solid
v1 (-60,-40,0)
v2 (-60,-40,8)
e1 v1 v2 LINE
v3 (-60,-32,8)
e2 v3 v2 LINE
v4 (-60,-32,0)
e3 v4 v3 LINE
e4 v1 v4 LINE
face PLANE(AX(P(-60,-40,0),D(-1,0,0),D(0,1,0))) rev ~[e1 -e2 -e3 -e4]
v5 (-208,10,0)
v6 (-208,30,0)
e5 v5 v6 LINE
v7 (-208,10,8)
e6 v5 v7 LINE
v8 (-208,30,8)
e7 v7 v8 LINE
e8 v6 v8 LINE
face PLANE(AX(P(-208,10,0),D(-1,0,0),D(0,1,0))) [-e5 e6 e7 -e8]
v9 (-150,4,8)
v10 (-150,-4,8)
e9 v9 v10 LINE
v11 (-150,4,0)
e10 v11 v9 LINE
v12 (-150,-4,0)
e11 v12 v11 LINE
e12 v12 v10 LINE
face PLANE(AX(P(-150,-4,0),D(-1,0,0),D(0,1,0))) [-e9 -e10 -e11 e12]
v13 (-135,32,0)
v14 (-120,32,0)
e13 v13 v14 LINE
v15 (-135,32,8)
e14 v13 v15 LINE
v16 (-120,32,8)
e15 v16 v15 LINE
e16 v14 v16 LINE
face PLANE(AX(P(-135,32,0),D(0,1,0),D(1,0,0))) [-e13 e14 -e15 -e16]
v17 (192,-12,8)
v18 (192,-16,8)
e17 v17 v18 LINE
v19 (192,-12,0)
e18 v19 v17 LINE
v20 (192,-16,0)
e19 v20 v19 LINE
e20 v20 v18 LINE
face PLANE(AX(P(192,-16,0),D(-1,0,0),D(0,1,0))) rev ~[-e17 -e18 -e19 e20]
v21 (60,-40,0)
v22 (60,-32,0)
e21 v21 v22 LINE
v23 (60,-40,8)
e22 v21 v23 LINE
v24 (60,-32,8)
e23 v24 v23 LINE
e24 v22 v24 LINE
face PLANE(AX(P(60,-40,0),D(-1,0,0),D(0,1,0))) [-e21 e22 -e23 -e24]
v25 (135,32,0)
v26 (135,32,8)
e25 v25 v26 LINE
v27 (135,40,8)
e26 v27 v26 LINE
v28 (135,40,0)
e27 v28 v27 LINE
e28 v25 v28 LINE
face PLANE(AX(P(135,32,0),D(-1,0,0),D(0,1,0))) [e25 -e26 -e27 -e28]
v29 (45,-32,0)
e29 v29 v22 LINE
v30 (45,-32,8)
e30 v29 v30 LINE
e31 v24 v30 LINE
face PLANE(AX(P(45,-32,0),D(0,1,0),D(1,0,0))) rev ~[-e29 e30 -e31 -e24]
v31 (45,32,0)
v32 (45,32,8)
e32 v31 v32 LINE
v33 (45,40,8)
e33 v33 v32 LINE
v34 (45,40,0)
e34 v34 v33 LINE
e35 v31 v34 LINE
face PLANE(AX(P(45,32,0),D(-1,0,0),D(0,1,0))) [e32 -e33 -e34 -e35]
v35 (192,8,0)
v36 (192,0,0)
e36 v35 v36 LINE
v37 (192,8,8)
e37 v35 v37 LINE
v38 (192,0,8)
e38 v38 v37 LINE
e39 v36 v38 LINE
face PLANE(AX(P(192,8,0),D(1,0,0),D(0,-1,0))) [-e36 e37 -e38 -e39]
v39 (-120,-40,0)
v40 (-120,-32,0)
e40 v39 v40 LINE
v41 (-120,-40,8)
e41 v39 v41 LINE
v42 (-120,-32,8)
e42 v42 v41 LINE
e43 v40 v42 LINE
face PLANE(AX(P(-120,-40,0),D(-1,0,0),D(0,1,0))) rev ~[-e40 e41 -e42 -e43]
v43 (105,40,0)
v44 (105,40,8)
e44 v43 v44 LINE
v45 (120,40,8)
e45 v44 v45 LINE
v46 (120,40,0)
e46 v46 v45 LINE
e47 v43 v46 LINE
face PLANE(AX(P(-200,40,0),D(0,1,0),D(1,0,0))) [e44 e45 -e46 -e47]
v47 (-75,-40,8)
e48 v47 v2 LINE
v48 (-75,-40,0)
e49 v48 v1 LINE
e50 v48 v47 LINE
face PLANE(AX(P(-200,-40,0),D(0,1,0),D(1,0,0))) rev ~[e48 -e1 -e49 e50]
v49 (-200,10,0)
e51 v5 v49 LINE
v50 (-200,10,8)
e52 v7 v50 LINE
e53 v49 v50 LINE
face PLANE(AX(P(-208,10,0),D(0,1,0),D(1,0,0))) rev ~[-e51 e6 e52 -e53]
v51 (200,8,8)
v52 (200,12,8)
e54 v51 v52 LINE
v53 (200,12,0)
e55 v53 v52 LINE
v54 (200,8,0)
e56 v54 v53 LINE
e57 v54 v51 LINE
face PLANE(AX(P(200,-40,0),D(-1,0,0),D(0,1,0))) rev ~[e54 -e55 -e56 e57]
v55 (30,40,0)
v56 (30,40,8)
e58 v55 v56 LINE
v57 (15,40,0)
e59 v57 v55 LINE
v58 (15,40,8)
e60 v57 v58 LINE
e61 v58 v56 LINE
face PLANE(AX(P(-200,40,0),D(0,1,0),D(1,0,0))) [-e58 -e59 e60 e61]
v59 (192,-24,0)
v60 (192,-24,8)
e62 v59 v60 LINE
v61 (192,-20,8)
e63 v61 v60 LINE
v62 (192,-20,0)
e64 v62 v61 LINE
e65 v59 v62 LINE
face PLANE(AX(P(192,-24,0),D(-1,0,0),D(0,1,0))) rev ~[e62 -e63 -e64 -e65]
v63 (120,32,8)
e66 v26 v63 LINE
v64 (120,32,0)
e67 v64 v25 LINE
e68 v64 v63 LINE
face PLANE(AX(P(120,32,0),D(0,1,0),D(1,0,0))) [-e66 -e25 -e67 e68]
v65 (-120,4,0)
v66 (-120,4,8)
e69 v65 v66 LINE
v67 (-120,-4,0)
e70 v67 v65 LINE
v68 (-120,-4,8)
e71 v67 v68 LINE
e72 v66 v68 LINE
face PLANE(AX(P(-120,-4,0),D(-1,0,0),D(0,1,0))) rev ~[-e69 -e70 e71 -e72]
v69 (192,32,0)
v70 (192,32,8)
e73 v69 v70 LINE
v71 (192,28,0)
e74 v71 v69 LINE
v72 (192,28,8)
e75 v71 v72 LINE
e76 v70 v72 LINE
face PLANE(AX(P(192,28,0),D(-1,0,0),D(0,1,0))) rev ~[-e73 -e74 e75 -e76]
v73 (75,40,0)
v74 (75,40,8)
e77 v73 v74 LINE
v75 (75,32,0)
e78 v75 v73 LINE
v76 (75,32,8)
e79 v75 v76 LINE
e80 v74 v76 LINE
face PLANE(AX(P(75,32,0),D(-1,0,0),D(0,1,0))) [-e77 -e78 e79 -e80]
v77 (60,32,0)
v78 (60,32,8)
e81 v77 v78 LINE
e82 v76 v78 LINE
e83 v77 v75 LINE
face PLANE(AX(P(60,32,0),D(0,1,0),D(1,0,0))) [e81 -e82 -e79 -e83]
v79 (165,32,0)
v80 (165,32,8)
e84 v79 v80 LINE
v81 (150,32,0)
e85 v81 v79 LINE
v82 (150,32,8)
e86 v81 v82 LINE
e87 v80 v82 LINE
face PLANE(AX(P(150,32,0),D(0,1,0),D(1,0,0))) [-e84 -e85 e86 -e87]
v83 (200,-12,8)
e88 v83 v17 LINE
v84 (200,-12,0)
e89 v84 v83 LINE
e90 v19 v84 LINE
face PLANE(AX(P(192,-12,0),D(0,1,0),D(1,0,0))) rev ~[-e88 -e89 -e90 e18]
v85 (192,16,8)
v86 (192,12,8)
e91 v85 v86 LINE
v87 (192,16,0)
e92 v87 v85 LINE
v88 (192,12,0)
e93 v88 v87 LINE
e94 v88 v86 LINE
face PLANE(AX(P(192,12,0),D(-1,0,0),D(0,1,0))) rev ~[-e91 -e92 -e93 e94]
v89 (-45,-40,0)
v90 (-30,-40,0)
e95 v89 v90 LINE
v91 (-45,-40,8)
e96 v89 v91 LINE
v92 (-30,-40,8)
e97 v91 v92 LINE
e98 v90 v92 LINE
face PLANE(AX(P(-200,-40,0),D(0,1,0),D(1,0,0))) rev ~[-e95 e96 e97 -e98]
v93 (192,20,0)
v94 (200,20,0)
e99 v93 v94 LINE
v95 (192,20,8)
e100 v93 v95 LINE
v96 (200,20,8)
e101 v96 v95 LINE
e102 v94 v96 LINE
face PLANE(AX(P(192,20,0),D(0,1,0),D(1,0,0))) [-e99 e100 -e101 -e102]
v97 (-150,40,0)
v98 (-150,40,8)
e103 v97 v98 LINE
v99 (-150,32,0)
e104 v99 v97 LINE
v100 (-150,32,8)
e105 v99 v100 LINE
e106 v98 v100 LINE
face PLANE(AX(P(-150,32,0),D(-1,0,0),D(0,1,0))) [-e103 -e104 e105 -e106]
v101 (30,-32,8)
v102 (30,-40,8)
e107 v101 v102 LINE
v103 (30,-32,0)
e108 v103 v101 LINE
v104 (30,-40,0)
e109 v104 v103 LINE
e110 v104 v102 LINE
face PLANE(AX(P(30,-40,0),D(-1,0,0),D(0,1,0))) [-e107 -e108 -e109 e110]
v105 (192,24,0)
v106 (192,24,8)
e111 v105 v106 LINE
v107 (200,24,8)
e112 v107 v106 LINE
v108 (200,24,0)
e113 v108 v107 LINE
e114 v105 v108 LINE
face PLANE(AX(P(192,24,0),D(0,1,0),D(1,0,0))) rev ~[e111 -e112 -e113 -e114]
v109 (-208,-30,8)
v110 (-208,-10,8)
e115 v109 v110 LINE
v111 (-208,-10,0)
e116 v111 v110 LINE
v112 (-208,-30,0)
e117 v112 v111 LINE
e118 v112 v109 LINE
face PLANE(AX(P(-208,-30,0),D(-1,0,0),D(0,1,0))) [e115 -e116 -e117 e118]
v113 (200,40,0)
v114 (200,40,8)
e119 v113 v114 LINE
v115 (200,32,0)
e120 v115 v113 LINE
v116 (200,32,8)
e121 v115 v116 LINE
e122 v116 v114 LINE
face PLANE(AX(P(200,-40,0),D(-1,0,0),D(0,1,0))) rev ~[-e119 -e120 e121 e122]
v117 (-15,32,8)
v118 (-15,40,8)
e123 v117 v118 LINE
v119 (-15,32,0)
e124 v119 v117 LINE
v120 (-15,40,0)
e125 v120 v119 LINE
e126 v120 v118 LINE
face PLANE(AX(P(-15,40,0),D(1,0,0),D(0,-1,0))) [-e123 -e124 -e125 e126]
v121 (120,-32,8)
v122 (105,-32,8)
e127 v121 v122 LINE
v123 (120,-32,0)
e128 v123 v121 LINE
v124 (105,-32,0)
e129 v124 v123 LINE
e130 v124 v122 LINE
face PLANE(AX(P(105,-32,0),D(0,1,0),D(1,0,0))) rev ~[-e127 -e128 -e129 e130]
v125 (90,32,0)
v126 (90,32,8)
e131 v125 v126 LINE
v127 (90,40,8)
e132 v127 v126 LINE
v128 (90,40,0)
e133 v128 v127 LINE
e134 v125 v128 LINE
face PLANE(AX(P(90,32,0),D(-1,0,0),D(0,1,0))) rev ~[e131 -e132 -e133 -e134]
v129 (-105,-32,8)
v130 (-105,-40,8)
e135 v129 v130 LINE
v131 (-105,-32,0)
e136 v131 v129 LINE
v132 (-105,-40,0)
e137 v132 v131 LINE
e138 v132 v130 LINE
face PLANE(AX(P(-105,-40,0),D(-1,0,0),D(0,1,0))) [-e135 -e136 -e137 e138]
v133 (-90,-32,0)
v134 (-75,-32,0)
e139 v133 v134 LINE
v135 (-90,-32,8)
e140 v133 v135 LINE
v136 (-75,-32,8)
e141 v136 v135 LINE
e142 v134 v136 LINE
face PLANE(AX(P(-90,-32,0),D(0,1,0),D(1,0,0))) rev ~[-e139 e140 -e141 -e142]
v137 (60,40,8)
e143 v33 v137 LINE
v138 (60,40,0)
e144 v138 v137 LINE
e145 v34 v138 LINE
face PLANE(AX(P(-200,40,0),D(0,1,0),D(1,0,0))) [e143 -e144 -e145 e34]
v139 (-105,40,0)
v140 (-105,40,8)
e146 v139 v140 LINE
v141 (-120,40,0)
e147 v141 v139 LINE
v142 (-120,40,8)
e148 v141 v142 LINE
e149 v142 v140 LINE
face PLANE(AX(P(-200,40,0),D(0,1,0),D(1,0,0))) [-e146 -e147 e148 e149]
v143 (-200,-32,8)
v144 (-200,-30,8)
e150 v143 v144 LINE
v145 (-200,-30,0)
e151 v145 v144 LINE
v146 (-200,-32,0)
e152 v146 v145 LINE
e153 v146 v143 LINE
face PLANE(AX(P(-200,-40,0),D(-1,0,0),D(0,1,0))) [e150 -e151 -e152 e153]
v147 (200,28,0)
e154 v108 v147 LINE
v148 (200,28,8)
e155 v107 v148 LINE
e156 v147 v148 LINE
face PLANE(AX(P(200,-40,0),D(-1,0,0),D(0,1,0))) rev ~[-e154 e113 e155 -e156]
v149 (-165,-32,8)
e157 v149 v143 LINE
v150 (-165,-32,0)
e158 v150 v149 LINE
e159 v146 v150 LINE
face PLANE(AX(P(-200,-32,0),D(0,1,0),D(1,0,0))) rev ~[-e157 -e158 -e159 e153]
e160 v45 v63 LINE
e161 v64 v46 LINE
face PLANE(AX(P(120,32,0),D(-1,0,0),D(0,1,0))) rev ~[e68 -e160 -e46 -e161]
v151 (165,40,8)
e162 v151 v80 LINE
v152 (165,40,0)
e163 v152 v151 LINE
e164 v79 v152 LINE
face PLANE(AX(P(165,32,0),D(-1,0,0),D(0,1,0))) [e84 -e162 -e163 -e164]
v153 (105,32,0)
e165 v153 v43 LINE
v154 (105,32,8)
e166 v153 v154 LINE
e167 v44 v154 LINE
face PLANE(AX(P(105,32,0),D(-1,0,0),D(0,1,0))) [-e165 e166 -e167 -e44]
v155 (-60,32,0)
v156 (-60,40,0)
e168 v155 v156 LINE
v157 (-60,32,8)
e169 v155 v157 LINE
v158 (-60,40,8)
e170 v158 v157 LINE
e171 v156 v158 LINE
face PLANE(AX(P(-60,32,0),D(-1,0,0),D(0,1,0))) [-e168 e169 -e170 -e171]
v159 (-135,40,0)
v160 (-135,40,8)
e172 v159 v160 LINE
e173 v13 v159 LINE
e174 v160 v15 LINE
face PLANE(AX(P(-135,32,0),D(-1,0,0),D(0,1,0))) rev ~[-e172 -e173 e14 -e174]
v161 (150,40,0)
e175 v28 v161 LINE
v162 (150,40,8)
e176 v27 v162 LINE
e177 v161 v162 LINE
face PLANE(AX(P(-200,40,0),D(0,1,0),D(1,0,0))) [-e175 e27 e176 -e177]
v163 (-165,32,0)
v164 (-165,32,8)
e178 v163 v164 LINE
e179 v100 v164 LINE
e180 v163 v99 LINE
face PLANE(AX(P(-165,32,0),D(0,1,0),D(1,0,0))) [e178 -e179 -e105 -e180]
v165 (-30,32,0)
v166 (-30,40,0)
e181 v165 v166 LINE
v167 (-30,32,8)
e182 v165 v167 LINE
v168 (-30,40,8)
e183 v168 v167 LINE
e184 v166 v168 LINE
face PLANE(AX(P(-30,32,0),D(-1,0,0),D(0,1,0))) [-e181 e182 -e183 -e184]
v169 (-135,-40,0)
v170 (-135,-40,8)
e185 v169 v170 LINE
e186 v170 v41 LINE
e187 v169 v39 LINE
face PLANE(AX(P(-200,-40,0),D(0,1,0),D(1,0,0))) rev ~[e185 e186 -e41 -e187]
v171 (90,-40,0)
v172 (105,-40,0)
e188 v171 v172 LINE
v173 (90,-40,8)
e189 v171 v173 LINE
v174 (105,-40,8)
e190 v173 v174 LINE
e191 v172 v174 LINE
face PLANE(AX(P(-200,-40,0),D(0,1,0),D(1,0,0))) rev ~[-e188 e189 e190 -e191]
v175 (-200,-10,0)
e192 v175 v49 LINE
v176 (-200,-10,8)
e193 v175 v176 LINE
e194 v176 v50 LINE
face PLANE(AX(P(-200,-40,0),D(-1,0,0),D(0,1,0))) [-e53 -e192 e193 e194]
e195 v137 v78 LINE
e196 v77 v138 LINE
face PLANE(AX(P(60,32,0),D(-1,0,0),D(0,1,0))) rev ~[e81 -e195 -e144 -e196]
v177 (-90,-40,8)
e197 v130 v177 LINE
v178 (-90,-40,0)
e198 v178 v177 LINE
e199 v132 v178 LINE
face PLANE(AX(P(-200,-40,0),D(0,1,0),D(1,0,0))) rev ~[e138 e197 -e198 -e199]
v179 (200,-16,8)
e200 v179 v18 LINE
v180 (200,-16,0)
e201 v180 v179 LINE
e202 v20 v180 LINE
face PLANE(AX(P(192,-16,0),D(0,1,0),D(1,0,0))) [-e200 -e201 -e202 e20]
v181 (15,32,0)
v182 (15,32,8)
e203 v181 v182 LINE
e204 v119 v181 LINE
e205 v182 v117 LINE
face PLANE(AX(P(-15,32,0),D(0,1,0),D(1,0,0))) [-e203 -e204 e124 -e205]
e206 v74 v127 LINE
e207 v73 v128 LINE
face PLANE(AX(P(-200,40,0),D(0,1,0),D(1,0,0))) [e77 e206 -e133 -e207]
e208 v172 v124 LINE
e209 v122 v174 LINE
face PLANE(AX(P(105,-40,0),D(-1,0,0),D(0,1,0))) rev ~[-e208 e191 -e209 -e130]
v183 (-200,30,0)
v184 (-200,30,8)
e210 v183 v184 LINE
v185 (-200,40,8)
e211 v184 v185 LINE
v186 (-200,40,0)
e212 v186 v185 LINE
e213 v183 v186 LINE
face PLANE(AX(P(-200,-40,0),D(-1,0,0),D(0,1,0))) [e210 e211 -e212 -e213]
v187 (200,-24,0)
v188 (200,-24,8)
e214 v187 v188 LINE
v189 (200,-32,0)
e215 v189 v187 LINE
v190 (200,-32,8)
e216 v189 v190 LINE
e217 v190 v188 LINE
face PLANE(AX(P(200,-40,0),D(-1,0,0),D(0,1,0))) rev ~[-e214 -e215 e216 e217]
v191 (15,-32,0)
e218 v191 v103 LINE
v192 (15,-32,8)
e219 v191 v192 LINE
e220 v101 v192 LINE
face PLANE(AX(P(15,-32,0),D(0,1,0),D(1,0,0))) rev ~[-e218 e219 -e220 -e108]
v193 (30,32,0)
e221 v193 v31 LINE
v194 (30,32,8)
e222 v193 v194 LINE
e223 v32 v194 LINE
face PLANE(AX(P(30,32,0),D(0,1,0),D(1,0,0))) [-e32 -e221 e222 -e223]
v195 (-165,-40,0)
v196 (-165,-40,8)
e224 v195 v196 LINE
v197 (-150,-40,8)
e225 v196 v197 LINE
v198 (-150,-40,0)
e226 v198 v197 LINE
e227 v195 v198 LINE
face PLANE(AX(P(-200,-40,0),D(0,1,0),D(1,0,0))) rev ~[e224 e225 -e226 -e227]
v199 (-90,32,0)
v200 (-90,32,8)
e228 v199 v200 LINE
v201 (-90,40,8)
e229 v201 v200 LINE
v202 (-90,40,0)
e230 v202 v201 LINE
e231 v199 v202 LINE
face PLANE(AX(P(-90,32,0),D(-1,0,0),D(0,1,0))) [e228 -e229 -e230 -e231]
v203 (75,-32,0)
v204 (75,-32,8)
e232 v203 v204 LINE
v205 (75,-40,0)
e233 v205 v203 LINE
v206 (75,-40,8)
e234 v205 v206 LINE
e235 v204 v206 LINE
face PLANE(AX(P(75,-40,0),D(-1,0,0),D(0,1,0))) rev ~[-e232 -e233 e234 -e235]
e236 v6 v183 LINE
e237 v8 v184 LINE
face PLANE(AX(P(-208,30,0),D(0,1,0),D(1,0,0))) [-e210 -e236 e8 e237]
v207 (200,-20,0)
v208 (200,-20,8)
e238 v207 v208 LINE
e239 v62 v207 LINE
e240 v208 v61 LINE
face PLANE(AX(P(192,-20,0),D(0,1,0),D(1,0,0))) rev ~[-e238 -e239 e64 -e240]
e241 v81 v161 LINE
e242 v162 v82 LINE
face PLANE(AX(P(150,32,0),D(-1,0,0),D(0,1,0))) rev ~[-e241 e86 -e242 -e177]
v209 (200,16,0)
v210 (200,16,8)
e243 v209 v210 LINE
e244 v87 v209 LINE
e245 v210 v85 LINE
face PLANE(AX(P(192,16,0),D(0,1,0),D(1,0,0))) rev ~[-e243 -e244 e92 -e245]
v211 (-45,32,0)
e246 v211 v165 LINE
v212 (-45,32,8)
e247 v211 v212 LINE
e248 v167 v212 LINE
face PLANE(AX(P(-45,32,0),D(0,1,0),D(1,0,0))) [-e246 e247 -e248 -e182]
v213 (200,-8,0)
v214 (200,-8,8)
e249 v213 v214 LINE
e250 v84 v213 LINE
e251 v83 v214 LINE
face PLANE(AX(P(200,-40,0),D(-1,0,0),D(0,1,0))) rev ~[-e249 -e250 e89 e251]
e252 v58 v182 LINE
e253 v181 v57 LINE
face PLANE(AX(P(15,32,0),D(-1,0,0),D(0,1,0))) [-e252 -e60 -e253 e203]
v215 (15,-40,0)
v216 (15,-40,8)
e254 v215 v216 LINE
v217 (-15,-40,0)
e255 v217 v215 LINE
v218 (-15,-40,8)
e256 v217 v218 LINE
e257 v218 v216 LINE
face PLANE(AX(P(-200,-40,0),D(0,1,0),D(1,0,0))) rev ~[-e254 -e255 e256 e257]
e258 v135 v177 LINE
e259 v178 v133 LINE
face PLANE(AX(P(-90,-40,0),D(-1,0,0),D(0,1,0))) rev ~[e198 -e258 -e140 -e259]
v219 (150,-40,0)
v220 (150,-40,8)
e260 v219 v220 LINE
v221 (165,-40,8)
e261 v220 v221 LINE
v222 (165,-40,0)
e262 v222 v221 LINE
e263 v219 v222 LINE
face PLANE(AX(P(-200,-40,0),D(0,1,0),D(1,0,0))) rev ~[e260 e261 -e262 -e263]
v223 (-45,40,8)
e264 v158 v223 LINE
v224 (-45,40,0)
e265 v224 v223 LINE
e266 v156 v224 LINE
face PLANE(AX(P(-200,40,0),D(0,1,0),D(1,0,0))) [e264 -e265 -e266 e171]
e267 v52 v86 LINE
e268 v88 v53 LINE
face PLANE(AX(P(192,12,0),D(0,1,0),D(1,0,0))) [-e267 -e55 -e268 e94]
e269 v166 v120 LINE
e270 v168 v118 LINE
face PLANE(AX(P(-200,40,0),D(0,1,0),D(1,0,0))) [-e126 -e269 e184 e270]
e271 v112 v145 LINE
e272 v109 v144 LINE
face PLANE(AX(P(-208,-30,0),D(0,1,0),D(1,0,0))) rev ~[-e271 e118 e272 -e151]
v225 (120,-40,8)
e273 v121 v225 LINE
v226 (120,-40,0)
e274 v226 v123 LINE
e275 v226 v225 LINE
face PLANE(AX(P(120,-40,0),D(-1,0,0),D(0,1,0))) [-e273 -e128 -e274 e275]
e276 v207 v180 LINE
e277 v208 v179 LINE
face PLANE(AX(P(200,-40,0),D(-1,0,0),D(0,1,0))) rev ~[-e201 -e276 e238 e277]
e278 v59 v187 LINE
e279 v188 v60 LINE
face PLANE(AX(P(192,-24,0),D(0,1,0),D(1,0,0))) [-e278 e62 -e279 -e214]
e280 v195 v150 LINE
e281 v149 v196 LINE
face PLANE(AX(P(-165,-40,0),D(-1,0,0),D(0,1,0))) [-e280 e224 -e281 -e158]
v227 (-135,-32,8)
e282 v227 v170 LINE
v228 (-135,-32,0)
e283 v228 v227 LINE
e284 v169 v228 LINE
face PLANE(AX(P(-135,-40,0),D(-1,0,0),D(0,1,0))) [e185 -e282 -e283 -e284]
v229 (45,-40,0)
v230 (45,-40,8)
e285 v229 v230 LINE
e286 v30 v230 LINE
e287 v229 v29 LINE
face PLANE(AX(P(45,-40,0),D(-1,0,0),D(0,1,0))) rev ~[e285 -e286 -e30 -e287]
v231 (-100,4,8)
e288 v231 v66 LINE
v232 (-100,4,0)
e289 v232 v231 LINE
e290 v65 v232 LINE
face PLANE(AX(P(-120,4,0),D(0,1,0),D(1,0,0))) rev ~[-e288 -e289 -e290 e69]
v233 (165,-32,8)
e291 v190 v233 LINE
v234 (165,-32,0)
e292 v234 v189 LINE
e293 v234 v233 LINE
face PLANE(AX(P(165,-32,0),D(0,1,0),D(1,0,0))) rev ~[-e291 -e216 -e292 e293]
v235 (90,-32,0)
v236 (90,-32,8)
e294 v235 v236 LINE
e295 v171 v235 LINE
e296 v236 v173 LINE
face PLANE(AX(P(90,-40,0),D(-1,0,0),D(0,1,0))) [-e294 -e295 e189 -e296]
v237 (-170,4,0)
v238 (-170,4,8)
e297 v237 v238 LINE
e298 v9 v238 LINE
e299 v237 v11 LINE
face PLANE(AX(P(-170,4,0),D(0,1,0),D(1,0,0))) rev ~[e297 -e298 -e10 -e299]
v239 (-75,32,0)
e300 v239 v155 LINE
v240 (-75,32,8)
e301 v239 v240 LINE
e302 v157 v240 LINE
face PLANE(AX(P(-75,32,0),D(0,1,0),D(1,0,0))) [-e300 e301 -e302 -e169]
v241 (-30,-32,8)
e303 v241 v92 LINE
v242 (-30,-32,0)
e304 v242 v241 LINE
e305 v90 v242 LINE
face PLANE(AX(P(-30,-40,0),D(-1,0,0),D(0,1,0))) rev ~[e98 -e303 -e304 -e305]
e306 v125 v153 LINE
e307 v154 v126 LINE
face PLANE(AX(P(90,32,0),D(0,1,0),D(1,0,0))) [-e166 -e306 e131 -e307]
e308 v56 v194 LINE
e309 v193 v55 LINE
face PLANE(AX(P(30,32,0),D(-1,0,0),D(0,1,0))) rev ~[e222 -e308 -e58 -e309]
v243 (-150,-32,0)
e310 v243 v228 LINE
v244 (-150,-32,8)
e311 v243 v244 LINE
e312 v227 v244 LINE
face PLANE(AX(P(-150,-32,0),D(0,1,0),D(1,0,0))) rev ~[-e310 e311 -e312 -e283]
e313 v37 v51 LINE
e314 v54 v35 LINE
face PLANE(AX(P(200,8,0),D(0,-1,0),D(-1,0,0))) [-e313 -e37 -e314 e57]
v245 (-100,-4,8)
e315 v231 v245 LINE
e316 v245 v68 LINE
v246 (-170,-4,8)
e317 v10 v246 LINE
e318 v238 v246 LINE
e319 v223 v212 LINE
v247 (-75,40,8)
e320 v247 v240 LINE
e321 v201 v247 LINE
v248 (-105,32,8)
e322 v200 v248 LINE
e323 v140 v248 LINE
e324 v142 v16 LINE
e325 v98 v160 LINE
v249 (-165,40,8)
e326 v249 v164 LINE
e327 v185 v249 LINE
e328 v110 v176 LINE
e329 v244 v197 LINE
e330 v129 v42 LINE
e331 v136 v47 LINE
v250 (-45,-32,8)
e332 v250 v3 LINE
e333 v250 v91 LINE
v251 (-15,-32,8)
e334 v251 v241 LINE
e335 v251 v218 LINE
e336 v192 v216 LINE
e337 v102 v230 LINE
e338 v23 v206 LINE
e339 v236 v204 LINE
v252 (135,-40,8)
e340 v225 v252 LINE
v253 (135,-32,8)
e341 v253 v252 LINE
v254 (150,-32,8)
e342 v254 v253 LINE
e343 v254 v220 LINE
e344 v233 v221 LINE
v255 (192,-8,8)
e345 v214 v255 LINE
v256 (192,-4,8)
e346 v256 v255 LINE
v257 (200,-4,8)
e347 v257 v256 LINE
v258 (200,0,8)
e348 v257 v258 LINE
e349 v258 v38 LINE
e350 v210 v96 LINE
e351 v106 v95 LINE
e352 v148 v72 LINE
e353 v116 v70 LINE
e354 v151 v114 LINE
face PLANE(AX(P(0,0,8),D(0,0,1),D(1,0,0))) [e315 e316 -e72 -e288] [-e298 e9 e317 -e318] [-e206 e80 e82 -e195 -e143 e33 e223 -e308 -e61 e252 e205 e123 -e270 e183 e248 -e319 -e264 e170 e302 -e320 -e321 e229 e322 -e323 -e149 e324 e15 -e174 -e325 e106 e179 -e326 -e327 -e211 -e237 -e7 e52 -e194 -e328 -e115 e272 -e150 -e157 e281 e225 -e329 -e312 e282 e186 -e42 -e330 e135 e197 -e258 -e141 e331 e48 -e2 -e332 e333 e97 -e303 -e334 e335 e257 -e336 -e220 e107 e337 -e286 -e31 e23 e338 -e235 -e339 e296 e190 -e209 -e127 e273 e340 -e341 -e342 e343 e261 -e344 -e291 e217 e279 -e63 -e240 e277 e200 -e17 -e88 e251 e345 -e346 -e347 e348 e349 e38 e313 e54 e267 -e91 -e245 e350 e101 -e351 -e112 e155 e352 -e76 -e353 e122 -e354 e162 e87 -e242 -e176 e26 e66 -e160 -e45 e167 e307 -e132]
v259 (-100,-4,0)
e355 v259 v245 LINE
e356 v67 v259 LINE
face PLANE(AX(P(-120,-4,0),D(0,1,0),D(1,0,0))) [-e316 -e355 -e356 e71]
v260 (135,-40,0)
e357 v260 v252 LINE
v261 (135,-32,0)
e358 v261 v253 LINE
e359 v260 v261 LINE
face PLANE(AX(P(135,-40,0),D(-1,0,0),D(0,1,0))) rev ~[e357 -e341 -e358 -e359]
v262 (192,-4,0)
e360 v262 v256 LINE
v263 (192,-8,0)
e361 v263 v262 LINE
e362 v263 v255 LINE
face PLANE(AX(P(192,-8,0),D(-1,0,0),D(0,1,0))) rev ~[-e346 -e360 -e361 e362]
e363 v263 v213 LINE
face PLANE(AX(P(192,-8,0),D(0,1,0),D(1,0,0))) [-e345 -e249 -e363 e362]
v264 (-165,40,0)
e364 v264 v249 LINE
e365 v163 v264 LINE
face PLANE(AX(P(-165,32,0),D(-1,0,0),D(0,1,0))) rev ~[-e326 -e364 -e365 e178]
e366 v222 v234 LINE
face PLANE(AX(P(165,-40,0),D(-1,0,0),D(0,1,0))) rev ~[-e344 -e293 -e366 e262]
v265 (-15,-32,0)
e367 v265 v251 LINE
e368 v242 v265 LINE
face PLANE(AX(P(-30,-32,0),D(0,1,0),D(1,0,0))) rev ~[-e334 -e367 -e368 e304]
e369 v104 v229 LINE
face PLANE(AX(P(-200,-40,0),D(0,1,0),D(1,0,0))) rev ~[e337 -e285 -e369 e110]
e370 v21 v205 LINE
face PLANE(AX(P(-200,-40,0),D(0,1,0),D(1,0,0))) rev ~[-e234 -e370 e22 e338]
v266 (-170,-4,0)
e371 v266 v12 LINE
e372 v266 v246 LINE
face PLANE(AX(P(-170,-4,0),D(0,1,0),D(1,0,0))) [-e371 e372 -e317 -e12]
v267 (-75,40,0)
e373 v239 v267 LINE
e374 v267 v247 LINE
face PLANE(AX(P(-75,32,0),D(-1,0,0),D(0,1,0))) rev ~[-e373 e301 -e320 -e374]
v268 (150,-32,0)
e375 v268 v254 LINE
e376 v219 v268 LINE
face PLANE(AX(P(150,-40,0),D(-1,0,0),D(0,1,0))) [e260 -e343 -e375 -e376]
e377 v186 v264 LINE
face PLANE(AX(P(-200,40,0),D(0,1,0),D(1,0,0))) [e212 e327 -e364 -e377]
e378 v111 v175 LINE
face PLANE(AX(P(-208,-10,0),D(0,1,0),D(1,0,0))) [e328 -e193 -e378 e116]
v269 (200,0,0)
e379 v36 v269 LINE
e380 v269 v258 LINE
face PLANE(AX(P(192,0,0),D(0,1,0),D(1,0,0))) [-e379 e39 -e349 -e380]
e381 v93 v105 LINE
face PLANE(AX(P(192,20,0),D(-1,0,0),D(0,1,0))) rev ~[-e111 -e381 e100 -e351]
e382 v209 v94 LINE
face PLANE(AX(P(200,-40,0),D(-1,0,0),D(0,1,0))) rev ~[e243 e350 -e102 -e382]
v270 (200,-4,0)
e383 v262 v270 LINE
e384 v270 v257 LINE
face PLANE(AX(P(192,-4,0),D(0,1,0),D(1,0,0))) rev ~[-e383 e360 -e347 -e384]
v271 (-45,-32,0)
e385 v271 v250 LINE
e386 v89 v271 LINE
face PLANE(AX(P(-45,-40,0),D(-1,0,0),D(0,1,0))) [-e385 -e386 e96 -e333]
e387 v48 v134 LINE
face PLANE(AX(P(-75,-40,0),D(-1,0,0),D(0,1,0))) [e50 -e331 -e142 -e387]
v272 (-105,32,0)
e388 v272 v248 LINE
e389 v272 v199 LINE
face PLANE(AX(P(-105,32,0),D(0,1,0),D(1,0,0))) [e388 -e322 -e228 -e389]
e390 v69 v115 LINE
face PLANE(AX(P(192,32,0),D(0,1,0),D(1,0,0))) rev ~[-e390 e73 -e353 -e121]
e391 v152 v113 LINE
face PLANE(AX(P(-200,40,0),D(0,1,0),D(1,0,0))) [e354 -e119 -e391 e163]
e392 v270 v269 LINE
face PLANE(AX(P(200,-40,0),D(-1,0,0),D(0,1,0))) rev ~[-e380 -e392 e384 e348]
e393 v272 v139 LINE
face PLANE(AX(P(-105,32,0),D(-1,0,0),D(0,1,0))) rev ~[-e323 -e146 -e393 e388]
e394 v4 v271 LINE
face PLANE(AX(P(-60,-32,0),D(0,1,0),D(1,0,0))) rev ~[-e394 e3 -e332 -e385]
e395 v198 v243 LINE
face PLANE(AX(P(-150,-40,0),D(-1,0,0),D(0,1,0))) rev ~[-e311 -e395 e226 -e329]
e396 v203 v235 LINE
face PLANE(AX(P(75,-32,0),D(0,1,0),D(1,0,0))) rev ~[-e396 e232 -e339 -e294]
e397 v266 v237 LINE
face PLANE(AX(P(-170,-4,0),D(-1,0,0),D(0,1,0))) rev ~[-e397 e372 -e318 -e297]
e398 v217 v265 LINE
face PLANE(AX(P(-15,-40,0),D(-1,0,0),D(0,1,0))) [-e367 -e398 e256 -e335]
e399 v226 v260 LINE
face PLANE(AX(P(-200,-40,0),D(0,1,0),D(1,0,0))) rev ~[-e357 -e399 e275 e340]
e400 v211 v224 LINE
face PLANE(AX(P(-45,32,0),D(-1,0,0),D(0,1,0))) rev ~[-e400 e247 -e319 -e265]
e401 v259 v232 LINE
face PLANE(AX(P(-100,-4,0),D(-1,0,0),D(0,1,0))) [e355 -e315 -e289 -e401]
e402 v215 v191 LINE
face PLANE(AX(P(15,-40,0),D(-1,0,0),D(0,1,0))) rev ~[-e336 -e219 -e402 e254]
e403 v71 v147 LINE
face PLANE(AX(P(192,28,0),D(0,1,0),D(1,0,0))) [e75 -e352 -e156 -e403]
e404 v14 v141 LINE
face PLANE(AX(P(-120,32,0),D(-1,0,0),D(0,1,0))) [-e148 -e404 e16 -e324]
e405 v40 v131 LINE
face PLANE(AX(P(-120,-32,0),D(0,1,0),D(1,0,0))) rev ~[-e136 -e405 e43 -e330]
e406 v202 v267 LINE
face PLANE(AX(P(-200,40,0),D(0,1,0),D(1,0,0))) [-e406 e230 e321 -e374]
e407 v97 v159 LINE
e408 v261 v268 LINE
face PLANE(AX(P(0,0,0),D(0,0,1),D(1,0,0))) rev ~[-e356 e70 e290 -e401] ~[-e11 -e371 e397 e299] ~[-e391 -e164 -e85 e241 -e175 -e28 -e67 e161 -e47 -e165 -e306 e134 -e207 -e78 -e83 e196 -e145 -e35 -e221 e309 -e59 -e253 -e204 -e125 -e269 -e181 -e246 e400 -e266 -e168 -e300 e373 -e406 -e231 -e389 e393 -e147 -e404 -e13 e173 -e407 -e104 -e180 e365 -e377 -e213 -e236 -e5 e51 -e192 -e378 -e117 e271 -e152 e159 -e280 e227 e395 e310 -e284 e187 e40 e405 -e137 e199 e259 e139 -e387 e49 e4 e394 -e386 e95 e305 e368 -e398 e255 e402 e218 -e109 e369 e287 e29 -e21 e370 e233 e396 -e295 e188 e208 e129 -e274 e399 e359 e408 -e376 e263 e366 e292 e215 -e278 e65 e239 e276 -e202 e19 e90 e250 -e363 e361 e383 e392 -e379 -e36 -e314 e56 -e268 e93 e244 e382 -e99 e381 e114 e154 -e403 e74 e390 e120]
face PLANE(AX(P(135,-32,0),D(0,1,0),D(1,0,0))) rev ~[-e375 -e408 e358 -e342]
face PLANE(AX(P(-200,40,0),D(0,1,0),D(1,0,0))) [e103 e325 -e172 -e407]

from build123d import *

# Parameters (mm, degrees)
ESQUISSE1_W             = 400
ESQUISSE1_H             = 80
BOSS_EXTRU_1_DEPTH      = 8
ESQUISSE2_W             = 8
ESQUISSE2_H             = 20
BOSS_EXTRU_2_DEPTH      = 8
ESQUISSE4_W             = 15
ESQUISSE4_H             = 8
ENL_V_MAT_EXTRU_1_DEPTH = 212.962260792
ESQUISSE5_W             = 15
ESQUISSE5_H             = 8
ESQUISSE5_W_2           = 35
ENL_V_MAT_EXTRU_2_DEPTH = 212.962260792
ESQUISSE6_W             = 20
ESQUISSE6_H             = 8
ENL_V_MAT_EXTRU_3_DEPTH = 212.962260792
ESQUISSE8_W             = 8
ESQUISSE8_H             = 4
ENL_V_MAT_EXTRU_5_DEPTH = 212.962260792


with BuildPart() as part:
    # Esquisse1 → Boss.-Extru.1 (new body)
    with BuildSketch(Plane.XY):
        Rectangle(ESQUISSE1_W, ESQUISSE1_H)
    extrude(amount=BOSS_EXTRU_1_DEPTH)

    # Esquisse2 → Boss.-Extru.2 (add)
    with BuildSketch(Plane.XY):
        with Locations((-204, 20)):
            Rectangle(ESQUISSE2_W, ESQUISSE2_H)
        with Locations((-204, -20)):
            Rectangle(ESQUISSE2_W, ESQUISSE2_H)
    extrude(amount=BOSS_EXTRU_2_DEPTH)

    # Esquisse4 → Enlèv. mat.-Extru.1 (cut, through all)
    with BuildSketch(Plane.XY):
        Polygon((0, 40), (-15, 40), (-15, 32), (0, 32), (15, 32), (15, 40), align=None)
        with Locations((-37.5, 36)):
            Rectangle(ESQUISSE4_W, ESQUISSE4_H)
        with Locations((-67.5, 36)):
            Rectangle(ESQUISSE4_W, ESQUISSE4_H)
        with Locations((-97.5, 36)):
            Rectangle(ESQUISSE4_W, ESQUISSE4_H)
        with Locations((-127.5, 36)):
            Rectangle(ESQUISSE4_W, ESQUISSE4_H)
        with Locations((-157.5, 36)):
            Rectangle(ESQUISSE4_W, ESQUISSE4_H)
        with Locations((37.5, 36)):
            Rectangle(ESQUISSE4_W, ESQUISSE4_H)
        with Locations((67.5, 36)):
            Rectangle(ESQUISSE4_W, ESQUISSE4_H)
        with Locations((97.5, 36)):
            Rectangle(ESQUISSE4_W, ESQUISSE4_H)
        with Locations((127.5, 36)):
            Rectangle(ESQUISSE4_W, ESQUISSE4_H)
        with Locations((157.5, 36)):
            Rectangle(ESQUISSE4_W, ESQUISSE4_H)
    extrude(amount=ENL_V_MAT_EXTRU_1_DEPTH, mode=Mode.SUBTRACT)

    # Esquisse5 → Enlèv. mat.-Extru.2 (cut, through all)
    with BuildSketch(Plane.XY):
        with Locations((-22.5, -36)):
            Rectangle(ESQUISSE5_W, ESQUISSE5_H)
        with Locations((-52.5, -36)):
            Rectangle(ESQUISSE5_W, ESQUISSE5_H)
        with Locations((-82.5, -36)):
            Rectangle(ESQUISSE5_W, ESQUISSE5_H)
        with Locations((-112.5, -36)):
            Rectangle(ESQUISSE5_W, ESQUISSE5_H)
        with Locations((-142.5, -36)):
            Rectangle(ESQUISSE5_W, ESQUISSE5_H)
        with Locations((-182.5, -36)):
            Rectangle(ESQUISSE5_W_2, ESQUISSE5_H)
        with Locations((22.5, -36)):
            Rectangle(ESQUISSE5_W, ESQUISSE5_H)
        with Locations((52.5, -36)):
            Rectangle(ESQUISSE5_W, ESQUISSE5_H)
        with Locations((82.5, -36)):
            Rectangle(ESQUISSE5_W, ESQUISSE5_H)
        with Locations((112.5, -36)):
            Rectangle(ESQUISSE5_W, ESQUISSE5_H)
        with Locations((142.5, -36)):
            Rectangle(ESQUISSE5_W, ESQUISSE5_H)
        with Locations((182.5, -36)):
            Rectangle(ESQUISSE5_W_2, ESQUISSE5_H)
    extrude(amount=ENL_V_MAT_EXTRU_2_DEPTH, mode=Mode.SUBTRACT)

    # Esquisse6 → Enlèv. mat.-Extru.3 (cut, through all)
    with BuildSketch(Plane.XY):
        with Locations((-160, 0)):
            Rectangle(ESQUISSE6_W, ESQUISSE6_H)
        with Locations((-110, 0)):
            Rectangle(ESQUISSE6_W, ESQUISSE6_H)
    extrude(amount=ENL_V_MAT_EXTRU_3_DEPTH, mode=Mode.SUBTRACT)

    # Esquisse8 → Enlèv. mat.-Extru.5 (cut, through all)
    with BuildSketch(Plane.XY):
        Polygon((200, 4), (200, 8), (192, 8), (192, 4), (192, 0), (200, 0), align=None)
        with Locations((196, 14)):
            Rectangle(ESQUISSE8_W, ESQUISSE8_H)
        with Locations((196, 22)):
            Rectangle(ESQUISSE8_W, ESQUISSE8_H)
        with Locations((196, 30)):
            Rectangle(ESQUISSE8_W, ESQUISSE8_H)
        with Locations((196, -6)):
            Rectangle(ESQUISSE8_W, ESQUISSE8_H)
        with Locations((196, -14)):
            Rectangle(ESQUISSE8_W, ESQUISSE8_H)
        with Locations((196, -22)):
            Rectangle(ESQUISSE8_W, ESQUISSE8_H)
    extrude(amount=ENL_V_MAT_EXTRU_5_DEPTH, mode=Mode.SUBTRACT)


solid = part.part
